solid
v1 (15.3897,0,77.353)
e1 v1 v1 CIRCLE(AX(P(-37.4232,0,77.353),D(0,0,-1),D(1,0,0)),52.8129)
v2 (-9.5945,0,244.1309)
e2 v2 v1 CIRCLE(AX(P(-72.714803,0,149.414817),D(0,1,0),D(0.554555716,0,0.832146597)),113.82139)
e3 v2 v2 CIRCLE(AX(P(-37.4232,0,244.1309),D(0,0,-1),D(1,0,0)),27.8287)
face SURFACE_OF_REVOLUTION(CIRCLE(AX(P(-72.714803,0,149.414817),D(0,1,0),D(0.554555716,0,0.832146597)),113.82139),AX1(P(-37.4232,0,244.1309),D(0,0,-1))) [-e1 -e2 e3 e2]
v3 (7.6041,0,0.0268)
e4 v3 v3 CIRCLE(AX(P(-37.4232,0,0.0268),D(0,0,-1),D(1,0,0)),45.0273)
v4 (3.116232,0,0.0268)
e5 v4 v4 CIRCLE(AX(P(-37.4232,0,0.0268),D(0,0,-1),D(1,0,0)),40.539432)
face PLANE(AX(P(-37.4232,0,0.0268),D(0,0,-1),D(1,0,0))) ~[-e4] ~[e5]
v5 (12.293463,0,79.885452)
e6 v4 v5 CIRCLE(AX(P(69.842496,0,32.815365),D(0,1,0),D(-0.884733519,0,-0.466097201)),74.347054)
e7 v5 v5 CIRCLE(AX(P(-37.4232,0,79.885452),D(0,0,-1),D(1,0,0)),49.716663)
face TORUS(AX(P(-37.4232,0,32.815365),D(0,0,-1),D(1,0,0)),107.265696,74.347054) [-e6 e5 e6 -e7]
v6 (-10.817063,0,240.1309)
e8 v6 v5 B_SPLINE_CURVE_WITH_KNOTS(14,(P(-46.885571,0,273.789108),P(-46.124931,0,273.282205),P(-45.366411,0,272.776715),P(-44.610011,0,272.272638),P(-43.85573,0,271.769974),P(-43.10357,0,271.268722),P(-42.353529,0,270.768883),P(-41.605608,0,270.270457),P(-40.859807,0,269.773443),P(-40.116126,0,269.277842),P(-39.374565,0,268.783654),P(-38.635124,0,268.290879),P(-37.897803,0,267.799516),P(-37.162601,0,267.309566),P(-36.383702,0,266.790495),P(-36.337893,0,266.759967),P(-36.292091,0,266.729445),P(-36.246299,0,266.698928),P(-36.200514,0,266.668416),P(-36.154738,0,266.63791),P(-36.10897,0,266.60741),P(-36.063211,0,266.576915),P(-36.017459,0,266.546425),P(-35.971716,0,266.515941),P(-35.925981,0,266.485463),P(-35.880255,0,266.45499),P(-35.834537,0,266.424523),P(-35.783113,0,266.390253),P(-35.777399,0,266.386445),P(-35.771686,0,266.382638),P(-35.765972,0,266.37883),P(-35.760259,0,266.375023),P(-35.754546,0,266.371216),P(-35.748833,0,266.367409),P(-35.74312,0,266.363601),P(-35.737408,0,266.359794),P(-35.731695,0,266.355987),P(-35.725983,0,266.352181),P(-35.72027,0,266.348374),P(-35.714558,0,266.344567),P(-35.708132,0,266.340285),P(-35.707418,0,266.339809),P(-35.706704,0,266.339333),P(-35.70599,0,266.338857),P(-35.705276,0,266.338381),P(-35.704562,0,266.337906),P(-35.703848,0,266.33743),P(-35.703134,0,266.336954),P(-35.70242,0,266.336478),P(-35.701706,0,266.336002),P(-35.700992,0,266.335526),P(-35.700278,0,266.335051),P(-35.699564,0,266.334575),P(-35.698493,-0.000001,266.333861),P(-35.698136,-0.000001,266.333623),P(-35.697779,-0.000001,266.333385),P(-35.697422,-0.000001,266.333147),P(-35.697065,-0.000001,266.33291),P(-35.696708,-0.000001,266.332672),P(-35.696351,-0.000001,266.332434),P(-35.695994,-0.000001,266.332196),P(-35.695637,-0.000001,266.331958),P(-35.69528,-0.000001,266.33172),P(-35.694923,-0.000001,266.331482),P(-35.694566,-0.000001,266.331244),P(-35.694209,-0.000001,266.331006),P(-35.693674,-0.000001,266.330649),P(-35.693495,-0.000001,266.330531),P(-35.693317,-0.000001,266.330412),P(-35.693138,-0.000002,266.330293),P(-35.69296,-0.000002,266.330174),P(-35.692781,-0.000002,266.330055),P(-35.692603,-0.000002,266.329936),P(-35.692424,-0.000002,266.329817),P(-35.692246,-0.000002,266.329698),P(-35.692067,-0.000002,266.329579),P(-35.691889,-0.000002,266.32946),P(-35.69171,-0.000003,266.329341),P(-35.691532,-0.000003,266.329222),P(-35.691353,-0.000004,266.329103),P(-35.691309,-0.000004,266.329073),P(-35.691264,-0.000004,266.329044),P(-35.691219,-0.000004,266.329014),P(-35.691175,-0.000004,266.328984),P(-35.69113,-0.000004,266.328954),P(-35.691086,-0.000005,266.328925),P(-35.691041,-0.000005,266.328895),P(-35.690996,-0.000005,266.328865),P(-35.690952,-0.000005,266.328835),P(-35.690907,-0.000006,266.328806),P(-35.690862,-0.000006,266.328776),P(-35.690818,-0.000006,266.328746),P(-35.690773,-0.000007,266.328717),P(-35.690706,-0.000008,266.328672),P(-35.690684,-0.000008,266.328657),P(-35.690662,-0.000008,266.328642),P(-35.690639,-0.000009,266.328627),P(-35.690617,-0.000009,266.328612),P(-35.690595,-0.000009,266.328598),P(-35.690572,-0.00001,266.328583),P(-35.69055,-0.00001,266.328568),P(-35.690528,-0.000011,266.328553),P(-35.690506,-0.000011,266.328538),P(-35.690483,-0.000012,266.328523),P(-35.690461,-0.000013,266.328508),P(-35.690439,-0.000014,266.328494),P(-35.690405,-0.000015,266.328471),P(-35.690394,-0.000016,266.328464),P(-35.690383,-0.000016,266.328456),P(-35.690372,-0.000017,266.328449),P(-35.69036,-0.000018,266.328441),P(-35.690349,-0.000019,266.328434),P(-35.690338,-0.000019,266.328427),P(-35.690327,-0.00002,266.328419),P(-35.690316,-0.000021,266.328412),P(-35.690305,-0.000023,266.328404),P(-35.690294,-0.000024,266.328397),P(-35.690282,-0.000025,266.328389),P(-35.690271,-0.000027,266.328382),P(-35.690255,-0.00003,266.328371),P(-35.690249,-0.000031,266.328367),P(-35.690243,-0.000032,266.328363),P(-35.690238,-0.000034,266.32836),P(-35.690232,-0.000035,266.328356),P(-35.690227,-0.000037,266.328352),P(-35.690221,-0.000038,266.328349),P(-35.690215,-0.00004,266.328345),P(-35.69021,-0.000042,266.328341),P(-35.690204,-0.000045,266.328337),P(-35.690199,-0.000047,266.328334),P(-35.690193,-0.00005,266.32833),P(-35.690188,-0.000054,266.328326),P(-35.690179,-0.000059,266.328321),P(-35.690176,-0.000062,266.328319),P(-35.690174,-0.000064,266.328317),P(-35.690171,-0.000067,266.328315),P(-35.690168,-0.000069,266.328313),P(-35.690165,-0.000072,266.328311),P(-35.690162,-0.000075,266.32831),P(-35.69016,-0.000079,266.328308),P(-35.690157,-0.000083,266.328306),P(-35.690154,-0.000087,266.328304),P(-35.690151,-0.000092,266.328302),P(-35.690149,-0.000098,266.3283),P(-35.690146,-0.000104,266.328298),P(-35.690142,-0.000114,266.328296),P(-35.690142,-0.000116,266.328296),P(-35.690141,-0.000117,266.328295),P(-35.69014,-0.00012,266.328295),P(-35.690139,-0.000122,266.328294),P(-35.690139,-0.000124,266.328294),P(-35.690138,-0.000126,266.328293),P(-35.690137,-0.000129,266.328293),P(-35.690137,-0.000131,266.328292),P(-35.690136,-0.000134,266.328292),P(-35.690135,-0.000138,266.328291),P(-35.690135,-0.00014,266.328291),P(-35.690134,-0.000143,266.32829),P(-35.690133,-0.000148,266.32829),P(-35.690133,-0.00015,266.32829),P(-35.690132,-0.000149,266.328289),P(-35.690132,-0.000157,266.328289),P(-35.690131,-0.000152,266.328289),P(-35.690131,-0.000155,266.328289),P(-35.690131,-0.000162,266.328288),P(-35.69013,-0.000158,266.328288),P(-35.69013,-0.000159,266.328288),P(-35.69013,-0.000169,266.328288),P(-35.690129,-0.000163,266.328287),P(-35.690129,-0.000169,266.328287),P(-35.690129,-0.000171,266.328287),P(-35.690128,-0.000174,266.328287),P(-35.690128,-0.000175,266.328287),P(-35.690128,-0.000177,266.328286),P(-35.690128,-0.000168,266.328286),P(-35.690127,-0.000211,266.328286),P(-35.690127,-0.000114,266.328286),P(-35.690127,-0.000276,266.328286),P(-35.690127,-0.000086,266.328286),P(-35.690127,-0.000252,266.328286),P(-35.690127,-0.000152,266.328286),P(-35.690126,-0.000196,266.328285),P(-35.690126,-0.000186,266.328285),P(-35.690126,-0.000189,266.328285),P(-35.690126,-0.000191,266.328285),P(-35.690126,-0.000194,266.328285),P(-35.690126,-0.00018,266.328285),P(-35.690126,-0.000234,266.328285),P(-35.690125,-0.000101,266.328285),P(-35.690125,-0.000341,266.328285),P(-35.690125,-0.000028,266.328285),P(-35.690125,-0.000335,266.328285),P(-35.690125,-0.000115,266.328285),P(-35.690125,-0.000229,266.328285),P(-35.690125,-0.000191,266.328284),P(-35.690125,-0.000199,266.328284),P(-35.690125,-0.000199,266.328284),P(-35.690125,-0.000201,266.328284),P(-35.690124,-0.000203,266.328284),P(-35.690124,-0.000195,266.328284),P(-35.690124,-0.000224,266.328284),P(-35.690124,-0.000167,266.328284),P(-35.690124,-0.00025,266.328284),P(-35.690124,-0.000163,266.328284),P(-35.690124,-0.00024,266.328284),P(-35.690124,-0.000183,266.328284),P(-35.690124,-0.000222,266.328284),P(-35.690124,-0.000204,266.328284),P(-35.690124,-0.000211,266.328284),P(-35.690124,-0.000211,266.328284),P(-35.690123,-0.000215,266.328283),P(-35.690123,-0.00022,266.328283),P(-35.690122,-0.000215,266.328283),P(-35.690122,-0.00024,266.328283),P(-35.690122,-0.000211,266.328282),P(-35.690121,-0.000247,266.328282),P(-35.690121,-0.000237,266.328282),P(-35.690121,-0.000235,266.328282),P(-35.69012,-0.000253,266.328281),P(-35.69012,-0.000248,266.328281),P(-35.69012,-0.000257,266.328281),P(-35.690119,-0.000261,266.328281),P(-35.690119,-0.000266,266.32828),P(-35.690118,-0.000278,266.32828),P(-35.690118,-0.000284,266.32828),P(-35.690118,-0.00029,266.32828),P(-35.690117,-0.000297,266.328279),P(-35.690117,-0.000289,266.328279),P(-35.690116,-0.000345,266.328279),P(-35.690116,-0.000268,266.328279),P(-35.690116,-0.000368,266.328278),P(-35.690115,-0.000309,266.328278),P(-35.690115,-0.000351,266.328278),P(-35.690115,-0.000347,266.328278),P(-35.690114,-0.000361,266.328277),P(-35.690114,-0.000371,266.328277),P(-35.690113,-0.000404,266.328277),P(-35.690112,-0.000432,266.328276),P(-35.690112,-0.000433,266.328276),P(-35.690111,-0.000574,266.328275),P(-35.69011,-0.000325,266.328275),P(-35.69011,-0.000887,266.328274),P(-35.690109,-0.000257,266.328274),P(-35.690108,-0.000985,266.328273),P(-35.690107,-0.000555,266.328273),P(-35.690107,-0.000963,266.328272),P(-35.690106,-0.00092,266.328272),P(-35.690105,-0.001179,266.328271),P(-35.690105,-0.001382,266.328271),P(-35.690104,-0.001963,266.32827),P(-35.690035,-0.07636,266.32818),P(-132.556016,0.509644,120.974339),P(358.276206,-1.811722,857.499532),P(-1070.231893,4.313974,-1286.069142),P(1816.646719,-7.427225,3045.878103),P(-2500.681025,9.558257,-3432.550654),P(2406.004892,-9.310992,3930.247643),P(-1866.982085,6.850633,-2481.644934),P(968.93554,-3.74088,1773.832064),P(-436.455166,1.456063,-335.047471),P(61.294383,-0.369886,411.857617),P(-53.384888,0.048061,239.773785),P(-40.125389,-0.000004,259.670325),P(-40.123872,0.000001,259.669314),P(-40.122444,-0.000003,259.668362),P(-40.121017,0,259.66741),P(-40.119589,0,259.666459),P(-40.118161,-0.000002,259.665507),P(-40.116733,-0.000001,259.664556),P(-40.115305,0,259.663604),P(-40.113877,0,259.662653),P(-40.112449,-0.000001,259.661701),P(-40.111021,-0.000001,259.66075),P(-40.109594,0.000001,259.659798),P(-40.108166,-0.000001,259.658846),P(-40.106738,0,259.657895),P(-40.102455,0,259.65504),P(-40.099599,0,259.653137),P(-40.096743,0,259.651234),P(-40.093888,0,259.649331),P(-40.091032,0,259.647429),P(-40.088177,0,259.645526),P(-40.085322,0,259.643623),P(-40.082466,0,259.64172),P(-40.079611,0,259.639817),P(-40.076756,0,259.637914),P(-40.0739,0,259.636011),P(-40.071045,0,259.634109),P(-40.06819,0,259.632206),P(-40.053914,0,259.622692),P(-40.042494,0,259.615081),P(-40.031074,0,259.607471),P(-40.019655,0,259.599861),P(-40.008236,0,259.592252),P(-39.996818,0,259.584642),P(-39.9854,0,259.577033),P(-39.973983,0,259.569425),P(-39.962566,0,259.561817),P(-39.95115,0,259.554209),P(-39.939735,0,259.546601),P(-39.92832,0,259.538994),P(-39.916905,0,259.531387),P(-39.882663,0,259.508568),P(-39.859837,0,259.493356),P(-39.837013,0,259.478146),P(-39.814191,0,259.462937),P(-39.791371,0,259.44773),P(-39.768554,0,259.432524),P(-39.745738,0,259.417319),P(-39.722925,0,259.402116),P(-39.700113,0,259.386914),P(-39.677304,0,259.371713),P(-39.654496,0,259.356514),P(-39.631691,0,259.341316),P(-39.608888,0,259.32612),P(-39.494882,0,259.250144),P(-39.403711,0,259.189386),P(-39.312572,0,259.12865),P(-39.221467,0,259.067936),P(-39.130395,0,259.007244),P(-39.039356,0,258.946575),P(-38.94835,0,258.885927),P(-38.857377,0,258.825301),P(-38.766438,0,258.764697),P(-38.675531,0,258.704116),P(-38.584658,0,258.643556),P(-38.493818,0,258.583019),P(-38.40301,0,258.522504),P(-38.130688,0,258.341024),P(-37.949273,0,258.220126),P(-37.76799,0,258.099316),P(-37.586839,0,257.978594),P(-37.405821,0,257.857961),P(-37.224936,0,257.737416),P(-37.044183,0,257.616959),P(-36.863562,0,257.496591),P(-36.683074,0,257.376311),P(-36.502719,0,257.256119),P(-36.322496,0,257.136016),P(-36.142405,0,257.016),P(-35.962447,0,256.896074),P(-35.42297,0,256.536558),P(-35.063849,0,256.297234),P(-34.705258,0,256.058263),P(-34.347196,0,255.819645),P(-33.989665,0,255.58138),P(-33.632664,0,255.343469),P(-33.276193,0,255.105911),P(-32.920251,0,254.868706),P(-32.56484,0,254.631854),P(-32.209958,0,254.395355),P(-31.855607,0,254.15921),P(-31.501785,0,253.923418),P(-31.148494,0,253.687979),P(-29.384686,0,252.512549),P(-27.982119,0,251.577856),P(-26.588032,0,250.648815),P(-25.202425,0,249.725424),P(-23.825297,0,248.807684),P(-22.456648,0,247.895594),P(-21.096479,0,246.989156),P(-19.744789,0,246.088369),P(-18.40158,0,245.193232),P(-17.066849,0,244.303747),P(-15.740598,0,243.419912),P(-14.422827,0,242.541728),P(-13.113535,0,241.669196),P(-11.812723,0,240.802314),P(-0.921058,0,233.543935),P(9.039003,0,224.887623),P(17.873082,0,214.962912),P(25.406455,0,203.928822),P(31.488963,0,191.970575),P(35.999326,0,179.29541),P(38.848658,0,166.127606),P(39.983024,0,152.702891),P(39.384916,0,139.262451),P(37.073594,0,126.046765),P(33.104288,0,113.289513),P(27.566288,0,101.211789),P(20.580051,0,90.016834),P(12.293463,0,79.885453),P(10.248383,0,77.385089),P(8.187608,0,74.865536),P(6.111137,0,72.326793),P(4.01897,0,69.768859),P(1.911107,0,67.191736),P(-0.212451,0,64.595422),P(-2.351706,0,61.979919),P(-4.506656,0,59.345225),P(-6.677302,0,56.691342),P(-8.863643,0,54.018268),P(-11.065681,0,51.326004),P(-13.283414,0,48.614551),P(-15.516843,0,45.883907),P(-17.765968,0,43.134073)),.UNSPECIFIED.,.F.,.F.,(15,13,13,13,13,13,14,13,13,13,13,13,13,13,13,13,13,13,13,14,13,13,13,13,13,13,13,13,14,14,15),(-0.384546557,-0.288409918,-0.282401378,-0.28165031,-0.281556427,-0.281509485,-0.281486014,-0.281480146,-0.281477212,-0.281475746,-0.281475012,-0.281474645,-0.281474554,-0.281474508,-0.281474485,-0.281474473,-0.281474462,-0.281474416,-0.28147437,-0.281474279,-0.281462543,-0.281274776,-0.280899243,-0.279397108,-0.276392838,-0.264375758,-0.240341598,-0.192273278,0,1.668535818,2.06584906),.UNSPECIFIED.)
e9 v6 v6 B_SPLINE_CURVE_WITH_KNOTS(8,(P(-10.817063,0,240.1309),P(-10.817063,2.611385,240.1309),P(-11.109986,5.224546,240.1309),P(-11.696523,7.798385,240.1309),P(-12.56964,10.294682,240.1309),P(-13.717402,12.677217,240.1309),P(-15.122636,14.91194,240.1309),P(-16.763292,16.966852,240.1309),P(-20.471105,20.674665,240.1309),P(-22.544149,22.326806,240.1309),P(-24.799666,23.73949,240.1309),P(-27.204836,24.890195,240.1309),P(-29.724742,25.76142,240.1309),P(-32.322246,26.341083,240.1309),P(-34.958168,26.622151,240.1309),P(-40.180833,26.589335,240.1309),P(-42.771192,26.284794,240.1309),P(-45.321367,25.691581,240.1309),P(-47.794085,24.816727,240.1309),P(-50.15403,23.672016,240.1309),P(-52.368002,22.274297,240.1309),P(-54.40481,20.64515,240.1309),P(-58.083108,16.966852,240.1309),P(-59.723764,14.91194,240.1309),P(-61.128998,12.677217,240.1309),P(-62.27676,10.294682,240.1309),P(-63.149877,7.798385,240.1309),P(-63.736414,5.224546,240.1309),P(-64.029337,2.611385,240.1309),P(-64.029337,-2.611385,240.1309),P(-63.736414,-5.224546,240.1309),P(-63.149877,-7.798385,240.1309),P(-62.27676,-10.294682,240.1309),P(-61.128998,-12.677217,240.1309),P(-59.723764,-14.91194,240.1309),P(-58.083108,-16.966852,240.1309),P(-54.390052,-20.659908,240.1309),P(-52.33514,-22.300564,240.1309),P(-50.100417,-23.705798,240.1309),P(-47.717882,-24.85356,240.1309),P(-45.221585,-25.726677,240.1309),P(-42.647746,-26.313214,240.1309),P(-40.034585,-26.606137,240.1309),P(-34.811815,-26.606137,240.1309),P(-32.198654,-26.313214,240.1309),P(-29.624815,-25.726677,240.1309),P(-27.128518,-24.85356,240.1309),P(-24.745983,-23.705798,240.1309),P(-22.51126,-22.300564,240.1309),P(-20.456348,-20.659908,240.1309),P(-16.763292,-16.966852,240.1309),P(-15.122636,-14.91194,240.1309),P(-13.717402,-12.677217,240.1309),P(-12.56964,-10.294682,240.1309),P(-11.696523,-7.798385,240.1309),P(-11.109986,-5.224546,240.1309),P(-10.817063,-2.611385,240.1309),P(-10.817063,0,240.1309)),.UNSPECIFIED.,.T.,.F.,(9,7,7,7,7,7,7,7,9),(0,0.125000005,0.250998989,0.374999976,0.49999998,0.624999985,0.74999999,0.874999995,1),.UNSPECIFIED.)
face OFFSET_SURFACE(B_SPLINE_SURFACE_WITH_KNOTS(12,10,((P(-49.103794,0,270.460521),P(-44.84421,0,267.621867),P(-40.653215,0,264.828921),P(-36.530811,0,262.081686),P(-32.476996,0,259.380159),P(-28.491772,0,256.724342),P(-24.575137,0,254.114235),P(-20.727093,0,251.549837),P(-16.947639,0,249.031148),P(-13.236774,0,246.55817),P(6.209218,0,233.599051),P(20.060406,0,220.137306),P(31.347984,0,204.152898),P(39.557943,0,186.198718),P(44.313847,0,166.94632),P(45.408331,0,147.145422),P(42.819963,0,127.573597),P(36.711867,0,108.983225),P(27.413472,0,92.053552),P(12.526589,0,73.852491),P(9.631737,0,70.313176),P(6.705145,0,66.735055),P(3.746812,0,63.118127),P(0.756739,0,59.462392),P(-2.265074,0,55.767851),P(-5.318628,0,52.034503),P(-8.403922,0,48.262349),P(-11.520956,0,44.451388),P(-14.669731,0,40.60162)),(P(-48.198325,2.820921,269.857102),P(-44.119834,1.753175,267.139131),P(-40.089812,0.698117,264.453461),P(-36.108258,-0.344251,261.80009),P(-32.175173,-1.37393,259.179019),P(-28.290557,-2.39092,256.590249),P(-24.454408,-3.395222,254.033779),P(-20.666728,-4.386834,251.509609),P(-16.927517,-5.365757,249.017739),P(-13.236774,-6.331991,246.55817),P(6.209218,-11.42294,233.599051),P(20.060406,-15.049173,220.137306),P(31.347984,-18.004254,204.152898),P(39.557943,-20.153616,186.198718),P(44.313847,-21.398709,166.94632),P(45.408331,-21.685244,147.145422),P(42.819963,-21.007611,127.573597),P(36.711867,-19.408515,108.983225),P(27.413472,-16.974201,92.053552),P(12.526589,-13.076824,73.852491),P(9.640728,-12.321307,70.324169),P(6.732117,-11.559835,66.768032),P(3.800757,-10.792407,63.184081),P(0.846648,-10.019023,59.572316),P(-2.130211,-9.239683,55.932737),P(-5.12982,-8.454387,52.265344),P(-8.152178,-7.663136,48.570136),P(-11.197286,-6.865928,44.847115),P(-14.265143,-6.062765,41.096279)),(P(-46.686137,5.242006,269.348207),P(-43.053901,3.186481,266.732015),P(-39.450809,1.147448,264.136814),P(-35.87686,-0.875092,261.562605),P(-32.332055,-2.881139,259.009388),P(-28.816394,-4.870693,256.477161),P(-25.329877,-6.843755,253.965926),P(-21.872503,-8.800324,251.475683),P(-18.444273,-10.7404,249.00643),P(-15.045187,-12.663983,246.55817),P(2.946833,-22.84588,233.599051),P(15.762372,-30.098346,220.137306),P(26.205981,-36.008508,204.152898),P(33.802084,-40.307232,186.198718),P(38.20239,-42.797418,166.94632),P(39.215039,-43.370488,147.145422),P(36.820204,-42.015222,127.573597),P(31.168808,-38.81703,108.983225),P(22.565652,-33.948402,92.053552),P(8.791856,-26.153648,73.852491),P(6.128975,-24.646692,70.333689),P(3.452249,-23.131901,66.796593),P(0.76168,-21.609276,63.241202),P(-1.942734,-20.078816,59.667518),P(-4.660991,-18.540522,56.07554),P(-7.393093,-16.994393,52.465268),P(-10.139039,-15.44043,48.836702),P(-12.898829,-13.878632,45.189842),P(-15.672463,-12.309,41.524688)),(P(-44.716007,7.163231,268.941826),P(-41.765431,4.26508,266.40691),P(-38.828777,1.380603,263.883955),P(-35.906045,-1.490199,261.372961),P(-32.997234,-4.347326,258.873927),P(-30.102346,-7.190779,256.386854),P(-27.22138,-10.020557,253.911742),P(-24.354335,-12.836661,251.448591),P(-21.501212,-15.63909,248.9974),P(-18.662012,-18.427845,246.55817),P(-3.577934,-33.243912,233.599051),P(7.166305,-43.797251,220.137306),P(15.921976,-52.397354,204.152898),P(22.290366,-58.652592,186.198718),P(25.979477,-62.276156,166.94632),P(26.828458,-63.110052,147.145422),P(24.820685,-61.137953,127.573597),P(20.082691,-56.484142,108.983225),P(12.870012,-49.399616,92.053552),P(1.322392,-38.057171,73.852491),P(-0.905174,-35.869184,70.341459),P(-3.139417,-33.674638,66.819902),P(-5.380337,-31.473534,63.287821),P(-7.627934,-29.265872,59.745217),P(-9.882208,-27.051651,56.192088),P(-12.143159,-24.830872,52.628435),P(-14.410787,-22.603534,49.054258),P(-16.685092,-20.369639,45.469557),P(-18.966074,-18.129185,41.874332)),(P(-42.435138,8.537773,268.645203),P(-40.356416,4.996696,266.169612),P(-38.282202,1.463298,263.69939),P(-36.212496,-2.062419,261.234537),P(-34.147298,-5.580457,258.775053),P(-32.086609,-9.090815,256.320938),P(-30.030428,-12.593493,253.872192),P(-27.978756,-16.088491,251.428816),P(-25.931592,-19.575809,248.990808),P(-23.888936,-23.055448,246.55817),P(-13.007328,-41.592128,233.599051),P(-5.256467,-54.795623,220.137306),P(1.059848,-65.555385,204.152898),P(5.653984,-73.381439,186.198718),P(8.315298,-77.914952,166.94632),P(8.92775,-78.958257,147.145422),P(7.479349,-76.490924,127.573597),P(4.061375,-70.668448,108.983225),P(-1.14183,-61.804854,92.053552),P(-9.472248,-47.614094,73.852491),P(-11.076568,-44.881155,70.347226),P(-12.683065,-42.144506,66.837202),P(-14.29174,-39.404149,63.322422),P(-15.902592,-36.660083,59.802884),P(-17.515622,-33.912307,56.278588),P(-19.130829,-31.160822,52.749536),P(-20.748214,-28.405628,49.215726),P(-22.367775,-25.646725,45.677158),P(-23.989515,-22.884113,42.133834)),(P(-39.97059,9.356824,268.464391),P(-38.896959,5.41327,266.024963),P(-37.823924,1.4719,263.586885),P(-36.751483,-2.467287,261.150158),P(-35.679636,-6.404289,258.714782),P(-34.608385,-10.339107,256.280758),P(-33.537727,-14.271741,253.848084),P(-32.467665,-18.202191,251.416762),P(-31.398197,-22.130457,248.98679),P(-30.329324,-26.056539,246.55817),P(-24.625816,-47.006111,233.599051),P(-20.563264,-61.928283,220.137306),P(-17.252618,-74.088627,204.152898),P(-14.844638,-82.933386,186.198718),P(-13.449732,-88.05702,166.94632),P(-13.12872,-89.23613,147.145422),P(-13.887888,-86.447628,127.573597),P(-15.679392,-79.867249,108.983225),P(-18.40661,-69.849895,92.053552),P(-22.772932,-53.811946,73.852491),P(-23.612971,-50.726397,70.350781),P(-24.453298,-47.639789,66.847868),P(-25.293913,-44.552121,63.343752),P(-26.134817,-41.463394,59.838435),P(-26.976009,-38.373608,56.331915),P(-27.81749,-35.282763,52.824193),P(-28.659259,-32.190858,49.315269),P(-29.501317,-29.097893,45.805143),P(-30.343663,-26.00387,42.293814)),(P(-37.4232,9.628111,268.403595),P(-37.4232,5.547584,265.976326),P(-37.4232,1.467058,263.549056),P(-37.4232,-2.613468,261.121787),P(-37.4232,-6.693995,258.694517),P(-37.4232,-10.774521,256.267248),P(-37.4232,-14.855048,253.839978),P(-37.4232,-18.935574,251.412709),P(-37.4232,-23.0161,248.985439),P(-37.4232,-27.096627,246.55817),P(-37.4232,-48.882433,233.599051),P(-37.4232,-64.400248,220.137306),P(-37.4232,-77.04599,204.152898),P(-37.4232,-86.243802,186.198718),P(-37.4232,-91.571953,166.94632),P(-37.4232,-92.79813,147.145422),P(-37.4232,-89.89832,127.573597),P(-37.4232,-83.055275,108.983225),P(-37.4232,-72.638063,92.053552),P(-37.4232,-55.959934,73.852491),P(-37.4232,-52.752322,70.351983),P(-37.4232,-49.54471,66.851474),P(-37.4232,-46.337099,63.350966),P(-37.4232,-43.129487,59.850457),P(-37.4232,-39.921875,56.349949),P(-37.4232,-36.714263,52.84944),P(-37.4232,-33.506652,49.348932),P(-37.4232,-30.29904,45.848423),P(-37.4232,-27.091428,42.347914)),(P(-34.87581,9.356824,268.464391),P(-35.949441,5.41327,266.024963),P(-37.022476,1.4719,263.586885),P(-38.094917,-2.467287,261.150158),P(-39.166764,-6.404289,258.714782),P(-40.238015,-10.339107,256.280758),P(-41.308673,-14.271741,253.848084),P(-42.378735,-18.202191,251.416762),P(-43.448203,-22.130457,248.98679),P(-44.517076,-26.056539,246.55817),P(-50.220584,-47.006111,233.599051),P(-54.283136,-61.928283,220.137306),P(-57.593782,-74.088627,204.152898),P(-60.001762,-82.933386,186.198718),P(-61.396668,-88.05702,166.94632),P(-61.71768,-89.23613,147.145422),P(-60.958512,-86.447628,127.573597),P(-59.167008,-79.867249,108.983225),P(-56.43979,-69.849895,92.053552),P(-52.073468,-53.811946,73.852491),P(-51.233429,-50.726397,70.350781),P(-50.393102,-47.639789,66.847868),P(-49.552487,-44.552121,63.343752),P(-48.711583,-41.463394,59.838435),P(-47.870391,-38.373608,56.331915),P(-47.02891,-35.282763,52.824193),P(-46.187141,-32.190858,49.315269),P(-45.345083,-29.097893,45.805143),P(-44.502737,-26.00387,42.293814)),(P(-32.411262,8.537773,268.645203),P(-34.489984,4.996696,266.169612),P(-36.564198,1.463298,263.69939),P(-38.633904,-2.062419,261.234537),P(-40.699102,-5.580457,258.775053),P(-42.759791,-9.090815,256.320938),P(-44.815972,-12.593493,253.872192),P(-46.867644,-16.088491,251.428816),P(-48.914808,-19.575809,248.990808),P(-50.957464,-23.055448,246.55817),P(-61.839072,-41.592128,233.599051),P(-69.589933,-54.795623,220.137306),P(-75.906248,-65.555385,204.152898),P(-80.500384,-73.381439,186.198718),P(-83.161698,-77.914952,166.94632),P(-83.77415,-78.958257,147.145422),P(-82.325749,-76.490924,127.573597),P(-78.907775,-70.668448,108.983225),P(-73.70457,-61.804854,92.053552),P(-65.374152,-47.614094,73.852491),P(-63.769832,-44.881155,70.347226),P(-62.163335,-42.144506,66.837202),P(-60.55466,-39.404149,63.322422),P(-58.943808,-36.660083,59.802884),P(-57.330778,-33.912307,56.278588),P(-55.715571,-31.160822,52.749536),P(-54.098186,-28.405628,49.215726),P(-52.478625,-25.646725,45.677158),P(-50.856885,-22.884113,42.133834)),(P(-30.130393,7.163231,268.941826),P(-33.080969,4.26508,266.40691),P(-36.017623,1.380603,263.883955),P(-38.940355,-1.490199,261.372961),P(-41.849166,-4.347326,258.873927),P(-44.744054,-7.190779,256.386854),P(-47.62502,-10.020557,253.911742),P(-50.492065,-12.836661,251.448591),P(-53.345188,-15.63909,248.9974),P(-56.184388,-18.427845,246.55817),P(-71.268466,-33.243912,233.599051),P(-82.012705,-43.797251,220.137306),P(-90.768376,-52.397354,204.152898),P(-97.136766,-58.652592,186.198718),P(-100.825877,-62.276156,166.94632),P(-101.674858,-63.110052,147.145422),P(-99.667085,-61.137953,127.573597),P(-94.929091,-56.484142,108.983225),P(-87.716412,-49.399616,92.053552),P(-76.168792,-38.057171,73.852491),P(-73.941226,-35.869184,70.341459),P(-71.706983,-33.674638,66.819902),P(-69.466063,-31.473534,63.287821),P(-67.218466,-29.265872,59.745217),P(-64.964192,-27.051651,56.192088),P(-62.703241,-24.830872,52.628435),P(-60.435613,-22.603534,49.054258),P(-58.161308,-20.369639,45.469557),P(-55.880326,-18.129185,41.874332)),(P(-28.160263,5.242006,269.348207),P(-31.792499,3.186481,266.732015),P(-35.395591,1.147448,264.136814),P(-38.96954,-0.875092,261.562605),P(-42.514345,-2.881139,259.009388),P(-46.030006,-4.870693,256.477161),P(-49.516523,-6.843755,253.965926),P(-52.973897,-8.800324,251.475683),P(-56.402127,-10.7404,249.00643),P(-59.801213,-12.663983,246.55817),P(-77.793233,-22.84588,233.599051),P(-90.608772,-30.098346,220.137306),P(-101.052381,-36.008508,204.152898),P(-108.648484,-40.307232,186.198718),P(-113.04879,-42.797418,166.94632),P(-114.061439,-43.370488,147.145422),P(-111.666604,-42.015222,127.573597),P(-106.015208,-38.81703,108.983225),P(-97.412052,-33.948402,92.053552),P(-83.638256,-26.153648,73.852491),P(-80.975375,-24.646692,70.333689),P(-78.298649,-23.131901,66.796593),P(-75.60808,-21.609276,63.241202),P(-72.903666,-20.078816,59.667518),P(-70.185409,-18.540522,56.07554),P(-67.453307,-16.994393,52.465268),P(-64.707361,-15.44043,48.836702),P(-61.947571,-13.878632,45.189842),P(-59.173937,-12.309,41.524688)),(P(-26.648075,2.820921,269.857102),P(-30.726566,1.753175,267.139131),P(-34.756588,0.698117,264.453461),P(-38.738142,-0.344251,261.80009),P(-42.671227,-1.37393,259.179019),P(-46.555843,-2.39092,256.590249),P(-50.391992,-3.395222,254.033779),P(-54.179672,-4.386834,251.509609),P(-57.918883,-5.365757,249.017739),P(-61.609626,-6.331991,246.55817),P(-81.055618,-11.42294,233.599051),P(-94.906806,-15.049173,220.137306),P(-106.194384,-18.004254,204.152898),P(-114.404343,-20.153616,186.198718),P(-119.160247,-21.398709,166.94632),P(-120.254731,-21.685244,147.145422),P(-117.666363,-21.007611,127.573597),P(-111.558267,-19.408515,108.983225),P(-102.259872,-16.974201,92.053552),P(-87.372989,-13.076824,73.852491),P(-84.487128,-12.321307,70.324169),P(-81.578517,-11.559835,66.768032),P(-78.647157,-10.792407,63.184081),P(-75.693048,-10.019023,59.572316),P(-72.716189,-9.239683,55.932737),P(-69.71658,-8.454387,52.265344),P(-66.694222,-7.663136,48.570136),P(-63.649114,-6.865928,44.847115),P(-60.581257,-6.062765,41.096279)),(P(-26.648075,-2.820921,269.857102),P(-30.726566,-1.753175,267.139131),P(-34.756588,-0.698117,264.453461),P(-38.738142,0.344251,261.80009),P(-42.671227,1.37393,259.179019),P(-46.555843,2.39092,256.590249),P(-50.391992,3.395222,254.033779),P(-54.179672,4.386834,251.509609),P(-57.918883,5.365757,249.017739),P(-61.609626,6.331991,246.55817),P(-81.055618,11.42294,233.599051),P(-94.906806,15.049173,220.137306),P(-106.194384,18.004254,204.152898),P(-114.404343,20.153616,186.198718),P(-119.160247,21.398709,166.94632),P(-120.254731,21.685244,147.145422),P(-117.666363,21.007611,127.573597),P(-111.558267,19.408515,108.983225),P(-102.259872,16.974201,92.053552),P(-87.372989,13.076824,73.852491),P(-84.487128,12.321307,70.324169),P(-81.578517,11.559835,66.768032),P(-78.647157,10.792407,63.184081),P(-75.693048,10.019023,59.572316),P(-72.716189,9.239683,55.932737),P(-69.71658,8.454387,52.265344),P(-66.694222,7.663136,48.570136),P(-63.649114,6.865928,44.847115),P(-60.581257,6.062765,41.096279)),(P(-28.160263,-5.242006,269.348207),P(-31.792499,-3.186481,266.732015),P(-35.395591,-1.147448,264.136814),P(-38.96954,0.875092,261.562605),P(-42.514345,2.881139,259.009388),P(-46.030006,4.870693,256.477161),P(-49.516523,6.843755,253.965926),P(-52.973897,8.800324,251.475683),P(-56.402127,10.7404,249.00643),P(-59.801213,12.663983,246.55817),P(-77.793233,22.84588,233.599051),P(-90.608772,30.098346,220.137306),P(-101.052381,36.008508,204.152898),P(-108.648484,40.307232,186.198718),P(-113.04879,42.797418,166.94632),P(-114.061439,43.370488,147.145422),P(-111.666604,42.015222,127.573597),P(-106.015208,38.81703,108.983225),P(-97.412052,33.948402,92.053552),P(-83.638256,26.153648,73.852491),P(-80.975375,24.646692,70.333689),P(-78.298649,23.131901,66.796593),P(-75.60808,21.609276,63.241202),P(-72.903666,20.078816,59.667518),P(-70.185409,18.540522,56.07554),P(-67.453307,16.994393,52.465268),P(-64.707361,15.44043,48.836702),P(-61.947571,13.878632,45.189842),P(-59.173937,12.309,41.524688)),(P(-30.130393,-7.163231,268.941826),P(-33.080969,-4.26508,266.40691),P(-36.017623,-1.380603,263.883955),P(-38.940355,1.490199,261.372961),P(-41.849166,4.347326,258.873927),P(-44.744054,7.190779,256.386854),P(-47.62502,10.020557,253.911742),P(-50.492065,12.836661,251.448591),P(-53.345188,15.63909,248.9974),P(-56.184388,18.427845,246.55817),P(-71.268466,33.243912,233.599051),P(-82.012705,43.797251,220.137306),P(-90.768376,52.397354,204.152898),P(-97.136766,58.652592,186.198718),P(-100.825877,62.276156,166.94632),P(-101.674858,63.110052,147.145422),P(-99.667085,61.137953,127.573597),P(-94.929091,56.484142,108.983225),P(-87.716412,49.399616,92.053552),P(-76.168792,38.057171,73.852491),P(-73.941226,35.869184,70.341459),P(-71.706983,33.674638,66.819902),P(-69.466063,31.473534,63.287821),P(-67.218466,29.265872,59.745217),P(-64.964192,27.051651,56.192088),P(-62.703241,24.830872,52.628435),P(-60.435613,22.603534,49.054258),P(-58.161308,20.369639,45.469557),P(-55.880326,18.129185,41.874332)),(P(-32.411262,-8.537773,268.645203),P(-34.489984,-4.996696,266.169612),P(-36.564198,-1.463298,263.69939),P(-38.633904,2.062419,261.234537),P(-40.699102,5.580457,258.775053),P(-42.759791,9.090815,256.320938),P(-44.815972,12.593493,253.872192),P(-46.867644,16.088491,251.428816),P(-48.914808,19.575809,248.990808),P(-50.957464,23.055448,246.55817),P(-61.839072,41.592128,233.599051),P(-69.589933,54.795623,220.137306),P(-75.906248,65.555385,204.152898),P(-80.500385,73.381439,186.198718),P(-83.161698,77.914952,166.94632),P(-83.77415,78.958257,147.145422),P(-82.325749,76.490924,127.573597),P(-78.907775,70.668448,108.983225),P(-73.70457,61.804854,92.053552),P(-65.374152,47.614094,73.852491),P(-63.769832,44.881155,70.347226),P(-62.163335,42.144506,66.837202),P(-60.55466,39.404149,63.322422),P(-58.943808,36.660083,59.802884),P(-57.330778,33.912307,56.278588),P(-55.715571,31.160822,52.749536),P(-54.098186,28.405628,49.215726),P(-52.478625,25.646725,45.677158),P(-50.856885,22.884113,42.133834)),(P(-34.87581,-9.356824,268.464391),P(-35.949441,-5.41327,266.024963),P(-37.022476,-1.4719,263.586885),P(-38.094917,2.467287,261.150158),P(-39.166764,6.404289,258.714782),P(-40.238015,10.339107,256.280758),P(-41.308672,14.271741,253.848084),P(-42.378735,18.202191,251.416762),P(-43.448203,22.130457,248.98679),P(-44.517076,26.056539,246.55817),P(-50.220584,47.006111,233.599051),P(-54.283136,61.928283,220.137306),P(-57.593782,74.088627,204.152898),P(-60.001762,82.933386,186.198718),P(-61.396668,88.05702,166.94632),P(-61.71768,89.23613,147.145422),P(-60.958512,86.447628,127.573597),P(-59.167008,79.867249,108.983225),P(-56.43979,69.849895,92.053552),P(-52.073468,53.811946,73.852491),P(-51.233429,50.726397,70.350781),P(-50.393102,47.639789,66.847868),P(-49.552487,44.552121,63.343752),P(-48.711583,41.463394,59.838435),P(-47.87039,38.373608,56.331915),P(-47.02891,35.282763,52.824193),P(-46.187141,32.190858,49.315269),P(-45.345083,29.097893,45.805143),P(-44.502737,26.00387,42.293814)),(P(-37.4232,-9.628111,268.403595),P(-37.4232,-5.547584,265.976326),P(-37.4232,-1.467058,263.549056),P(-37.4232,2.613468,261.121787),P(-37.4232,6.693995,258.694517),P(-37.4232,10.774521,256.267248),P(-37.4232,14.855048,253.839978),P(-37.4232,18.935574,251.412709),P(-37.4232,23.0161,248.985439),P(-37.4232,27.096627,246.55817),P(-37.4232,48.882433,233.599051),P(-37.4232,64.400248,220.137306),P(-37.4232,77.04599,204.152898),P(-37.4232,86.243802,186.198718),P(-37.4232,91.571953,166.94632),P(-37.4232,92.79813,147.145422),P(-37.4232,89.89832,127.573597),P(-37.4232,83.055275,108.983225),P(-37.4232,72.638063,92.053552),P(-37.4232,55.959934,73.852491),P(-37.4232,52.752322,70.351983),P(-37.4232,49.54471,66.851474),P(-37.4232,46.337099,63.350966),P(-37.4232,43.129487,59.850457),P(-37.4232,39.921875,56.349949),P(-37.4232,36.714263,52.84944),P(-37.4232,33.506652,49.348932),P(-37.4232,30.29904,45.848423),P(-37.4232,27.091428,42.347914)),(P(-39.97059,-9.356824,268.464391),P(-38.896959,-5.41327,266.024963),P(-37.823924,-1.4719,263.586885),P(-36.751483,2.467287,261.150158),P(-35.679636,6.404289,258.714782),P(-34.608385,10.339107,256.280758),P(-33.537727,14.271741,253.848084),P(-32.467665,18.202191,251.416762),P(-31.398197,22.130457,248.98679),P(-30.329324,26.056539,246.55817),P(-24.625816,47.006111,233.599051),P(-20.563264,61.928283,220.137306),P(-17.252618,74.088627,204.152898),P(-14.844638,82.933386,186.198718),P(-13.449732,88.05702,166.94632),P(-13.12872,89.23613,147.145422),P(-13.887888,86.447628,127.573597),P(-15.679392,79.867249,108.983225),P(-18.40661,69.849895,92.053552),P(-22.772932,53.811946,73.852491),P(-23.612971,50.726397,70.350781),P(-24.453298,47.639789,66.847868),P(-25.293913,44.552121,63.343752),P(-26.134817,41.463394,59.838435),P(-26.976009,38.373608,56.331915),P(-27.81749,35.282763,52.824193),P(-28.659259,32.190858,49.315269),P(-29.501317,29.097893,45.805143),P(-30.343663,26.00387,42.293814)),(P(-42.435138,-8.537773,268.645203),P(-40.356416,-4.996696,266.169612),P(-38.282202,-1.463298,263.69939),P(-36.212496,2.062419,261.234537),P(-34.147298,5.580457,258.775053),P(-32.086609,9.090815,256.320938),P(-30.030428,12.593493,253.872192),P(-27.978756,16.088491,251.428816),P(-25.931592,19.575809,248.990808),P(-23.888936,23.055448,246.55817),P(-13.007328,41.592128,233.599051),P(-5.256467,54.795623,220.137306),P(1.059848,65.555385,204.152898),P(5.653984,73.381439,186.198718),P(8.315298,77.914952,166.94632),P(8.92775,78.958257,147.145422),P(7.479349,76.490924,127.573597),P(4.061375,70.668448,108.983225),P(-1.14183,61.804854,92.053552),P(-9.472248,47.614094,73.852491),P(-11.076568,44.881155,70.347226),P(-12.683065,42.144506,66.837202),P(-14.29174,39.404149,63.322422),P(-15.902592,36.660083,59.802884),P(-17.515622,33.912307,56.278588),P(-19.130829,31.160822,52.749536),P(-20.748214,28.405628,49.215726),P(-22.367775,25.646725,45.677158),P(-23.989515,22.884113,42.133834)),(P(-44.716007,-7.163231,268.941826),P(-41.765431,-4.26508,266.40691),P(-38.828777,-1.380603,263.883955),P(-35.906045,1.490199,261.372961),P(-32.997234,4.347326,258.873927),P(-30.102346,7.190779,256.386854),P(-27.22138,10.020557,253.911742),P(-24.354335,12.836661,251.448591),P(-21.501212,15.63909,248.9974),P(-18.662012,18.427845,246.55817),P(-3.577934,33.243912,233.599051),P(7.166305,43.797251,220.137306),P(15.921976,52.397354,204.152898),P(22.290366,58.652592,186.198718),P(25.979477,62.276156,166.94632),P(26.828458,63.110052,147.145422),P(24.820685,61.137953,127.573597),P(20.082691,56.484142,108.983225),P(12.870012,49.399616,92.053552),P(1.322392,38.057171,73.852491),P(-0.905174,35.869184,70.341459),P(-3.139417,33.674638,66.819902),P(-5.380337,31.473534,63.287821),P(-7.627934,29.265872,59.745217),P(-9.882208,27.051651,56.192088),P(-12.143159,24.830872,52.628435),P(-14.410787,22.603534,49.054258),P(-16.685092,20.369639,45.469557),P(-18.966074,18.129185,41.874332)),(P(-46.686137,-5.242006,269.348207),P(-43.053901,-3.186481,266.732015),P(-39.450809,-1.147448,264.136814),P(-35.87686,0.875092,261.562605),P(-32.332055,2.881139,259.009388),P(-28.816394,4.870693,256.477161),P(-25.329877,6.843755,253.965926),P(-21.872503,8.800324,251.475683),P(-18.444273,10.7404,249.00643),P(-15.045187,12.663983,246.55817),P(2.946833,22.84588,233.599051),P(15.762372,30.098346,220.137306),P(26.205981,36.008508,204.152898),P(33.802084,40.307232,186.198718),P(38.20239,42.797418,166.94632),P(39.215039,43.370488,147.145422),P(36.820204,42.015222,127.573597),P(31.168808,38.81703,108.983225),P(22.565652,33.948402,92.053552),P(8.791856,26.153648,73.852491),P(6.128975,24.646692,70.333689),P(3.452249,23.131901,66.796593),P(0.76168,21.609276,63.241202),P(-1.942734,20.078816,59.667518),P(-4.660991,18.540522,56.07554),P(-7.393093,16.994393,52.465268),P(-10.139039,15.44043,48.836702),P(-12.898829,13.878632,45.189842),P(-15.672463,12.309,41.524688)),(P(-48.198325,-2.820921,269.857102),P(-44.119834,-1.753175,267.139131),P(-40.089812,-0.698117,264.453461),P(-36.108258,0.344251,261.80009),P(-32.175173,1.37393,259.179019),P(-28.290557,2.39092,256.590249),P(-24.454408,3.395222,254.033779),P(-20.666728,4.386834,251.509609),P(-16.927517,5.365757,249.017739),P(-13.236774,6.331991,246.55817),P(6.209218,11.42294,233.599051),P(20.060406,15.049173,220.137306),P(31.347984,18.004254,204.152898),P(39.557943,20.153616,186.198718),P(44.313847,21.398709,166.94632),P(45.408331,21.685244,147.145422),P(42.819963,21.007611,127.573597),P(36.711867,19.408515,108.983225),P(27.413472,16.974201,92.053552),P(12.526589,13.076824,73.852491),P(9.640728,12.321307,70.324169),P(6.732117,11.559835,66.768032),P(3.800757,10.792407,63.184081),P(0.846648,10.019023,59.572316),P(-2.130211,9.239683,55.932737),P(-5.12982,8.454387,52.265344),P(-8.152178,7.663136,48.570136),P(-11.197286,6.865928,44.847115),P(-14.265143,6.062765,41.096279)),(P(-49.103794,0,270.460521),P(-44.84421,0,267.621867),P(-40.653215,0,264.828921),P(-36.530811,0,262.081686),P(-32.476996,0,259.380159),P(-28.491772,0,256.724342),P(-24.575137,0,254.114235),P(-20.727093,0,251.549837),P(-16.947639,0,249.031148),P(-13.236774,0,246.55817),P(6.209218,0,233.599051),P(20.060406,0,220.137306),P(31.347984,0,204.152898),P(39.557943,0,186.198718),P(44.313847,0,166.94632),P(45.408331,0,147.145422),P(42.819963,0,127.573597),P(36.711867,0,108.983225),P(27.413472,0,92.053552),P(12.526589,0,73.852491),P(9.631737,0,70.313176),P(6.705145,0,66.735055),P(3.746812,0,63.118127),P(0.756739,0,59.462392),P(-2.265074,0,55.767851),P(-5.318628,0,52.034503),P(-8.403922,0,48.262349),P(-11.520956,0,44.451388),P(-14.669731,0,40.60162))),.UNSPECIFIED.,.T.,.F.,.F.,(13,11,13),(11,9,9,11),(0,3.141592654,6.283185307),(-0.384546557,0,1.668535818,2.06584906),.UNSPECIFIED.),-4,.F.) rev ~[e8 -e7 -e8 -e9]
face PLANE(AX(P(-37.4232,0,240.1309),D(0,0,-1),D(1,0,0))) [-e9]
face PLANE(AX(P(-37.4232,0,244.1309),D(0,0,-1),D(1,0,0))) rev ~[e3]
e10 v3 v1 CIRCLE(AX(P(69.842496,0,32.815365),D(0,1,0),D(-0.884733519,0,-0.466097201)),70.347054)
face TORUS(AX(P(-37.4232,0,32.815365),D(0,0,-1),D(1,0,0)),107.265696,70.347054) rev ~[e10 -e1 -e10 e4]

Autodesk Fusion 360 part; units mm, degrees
sketch "Sketch1" plane through (0, 0, 0) normal (0, 1, 0) x (1, 0, 0)
  line L0 (-37.4232, -0.0268) -> (7.6041, -0.0268)
  arc A0 (7.6041, -0.0268) -> (15.3897, -77.353) centre (69.8425, -32.8154) ccw
  line L1 (-37.4232, -244.1309) -> (-37.4232, -0.0268)
  arc A1 (-9.5945, -244.1309) -> (15.3897, -77.353) centre (-72.7148, -149.4148) ccw
  line L2 (-9.5945, -244.1309) -> (-37.4232, -244.1309)
  line L3 (0, 0) -> (-100, 0) construction
  dimension "d1" = 113.8214
  dimension "d2" = 27.8287
  dimension "d3" = 45.0273
  dimension "d4" = 70.347
  dimension "d5" = 244.1041
revolve "Revolve1" add sketch "Sketch1" angle 360 about axis through (-37.4232, 0, 244.1309) along (0, 0, -1)
shell "Shell1" thickness 4 removed faces 1 at (-28.0652, -11.7346, 0.0268)
equation "d1 = ( 70.347 * 1.618 ) * 1 mm"
equation "d3 = ( 27.829 * 1.618 ) * 1 mm"
